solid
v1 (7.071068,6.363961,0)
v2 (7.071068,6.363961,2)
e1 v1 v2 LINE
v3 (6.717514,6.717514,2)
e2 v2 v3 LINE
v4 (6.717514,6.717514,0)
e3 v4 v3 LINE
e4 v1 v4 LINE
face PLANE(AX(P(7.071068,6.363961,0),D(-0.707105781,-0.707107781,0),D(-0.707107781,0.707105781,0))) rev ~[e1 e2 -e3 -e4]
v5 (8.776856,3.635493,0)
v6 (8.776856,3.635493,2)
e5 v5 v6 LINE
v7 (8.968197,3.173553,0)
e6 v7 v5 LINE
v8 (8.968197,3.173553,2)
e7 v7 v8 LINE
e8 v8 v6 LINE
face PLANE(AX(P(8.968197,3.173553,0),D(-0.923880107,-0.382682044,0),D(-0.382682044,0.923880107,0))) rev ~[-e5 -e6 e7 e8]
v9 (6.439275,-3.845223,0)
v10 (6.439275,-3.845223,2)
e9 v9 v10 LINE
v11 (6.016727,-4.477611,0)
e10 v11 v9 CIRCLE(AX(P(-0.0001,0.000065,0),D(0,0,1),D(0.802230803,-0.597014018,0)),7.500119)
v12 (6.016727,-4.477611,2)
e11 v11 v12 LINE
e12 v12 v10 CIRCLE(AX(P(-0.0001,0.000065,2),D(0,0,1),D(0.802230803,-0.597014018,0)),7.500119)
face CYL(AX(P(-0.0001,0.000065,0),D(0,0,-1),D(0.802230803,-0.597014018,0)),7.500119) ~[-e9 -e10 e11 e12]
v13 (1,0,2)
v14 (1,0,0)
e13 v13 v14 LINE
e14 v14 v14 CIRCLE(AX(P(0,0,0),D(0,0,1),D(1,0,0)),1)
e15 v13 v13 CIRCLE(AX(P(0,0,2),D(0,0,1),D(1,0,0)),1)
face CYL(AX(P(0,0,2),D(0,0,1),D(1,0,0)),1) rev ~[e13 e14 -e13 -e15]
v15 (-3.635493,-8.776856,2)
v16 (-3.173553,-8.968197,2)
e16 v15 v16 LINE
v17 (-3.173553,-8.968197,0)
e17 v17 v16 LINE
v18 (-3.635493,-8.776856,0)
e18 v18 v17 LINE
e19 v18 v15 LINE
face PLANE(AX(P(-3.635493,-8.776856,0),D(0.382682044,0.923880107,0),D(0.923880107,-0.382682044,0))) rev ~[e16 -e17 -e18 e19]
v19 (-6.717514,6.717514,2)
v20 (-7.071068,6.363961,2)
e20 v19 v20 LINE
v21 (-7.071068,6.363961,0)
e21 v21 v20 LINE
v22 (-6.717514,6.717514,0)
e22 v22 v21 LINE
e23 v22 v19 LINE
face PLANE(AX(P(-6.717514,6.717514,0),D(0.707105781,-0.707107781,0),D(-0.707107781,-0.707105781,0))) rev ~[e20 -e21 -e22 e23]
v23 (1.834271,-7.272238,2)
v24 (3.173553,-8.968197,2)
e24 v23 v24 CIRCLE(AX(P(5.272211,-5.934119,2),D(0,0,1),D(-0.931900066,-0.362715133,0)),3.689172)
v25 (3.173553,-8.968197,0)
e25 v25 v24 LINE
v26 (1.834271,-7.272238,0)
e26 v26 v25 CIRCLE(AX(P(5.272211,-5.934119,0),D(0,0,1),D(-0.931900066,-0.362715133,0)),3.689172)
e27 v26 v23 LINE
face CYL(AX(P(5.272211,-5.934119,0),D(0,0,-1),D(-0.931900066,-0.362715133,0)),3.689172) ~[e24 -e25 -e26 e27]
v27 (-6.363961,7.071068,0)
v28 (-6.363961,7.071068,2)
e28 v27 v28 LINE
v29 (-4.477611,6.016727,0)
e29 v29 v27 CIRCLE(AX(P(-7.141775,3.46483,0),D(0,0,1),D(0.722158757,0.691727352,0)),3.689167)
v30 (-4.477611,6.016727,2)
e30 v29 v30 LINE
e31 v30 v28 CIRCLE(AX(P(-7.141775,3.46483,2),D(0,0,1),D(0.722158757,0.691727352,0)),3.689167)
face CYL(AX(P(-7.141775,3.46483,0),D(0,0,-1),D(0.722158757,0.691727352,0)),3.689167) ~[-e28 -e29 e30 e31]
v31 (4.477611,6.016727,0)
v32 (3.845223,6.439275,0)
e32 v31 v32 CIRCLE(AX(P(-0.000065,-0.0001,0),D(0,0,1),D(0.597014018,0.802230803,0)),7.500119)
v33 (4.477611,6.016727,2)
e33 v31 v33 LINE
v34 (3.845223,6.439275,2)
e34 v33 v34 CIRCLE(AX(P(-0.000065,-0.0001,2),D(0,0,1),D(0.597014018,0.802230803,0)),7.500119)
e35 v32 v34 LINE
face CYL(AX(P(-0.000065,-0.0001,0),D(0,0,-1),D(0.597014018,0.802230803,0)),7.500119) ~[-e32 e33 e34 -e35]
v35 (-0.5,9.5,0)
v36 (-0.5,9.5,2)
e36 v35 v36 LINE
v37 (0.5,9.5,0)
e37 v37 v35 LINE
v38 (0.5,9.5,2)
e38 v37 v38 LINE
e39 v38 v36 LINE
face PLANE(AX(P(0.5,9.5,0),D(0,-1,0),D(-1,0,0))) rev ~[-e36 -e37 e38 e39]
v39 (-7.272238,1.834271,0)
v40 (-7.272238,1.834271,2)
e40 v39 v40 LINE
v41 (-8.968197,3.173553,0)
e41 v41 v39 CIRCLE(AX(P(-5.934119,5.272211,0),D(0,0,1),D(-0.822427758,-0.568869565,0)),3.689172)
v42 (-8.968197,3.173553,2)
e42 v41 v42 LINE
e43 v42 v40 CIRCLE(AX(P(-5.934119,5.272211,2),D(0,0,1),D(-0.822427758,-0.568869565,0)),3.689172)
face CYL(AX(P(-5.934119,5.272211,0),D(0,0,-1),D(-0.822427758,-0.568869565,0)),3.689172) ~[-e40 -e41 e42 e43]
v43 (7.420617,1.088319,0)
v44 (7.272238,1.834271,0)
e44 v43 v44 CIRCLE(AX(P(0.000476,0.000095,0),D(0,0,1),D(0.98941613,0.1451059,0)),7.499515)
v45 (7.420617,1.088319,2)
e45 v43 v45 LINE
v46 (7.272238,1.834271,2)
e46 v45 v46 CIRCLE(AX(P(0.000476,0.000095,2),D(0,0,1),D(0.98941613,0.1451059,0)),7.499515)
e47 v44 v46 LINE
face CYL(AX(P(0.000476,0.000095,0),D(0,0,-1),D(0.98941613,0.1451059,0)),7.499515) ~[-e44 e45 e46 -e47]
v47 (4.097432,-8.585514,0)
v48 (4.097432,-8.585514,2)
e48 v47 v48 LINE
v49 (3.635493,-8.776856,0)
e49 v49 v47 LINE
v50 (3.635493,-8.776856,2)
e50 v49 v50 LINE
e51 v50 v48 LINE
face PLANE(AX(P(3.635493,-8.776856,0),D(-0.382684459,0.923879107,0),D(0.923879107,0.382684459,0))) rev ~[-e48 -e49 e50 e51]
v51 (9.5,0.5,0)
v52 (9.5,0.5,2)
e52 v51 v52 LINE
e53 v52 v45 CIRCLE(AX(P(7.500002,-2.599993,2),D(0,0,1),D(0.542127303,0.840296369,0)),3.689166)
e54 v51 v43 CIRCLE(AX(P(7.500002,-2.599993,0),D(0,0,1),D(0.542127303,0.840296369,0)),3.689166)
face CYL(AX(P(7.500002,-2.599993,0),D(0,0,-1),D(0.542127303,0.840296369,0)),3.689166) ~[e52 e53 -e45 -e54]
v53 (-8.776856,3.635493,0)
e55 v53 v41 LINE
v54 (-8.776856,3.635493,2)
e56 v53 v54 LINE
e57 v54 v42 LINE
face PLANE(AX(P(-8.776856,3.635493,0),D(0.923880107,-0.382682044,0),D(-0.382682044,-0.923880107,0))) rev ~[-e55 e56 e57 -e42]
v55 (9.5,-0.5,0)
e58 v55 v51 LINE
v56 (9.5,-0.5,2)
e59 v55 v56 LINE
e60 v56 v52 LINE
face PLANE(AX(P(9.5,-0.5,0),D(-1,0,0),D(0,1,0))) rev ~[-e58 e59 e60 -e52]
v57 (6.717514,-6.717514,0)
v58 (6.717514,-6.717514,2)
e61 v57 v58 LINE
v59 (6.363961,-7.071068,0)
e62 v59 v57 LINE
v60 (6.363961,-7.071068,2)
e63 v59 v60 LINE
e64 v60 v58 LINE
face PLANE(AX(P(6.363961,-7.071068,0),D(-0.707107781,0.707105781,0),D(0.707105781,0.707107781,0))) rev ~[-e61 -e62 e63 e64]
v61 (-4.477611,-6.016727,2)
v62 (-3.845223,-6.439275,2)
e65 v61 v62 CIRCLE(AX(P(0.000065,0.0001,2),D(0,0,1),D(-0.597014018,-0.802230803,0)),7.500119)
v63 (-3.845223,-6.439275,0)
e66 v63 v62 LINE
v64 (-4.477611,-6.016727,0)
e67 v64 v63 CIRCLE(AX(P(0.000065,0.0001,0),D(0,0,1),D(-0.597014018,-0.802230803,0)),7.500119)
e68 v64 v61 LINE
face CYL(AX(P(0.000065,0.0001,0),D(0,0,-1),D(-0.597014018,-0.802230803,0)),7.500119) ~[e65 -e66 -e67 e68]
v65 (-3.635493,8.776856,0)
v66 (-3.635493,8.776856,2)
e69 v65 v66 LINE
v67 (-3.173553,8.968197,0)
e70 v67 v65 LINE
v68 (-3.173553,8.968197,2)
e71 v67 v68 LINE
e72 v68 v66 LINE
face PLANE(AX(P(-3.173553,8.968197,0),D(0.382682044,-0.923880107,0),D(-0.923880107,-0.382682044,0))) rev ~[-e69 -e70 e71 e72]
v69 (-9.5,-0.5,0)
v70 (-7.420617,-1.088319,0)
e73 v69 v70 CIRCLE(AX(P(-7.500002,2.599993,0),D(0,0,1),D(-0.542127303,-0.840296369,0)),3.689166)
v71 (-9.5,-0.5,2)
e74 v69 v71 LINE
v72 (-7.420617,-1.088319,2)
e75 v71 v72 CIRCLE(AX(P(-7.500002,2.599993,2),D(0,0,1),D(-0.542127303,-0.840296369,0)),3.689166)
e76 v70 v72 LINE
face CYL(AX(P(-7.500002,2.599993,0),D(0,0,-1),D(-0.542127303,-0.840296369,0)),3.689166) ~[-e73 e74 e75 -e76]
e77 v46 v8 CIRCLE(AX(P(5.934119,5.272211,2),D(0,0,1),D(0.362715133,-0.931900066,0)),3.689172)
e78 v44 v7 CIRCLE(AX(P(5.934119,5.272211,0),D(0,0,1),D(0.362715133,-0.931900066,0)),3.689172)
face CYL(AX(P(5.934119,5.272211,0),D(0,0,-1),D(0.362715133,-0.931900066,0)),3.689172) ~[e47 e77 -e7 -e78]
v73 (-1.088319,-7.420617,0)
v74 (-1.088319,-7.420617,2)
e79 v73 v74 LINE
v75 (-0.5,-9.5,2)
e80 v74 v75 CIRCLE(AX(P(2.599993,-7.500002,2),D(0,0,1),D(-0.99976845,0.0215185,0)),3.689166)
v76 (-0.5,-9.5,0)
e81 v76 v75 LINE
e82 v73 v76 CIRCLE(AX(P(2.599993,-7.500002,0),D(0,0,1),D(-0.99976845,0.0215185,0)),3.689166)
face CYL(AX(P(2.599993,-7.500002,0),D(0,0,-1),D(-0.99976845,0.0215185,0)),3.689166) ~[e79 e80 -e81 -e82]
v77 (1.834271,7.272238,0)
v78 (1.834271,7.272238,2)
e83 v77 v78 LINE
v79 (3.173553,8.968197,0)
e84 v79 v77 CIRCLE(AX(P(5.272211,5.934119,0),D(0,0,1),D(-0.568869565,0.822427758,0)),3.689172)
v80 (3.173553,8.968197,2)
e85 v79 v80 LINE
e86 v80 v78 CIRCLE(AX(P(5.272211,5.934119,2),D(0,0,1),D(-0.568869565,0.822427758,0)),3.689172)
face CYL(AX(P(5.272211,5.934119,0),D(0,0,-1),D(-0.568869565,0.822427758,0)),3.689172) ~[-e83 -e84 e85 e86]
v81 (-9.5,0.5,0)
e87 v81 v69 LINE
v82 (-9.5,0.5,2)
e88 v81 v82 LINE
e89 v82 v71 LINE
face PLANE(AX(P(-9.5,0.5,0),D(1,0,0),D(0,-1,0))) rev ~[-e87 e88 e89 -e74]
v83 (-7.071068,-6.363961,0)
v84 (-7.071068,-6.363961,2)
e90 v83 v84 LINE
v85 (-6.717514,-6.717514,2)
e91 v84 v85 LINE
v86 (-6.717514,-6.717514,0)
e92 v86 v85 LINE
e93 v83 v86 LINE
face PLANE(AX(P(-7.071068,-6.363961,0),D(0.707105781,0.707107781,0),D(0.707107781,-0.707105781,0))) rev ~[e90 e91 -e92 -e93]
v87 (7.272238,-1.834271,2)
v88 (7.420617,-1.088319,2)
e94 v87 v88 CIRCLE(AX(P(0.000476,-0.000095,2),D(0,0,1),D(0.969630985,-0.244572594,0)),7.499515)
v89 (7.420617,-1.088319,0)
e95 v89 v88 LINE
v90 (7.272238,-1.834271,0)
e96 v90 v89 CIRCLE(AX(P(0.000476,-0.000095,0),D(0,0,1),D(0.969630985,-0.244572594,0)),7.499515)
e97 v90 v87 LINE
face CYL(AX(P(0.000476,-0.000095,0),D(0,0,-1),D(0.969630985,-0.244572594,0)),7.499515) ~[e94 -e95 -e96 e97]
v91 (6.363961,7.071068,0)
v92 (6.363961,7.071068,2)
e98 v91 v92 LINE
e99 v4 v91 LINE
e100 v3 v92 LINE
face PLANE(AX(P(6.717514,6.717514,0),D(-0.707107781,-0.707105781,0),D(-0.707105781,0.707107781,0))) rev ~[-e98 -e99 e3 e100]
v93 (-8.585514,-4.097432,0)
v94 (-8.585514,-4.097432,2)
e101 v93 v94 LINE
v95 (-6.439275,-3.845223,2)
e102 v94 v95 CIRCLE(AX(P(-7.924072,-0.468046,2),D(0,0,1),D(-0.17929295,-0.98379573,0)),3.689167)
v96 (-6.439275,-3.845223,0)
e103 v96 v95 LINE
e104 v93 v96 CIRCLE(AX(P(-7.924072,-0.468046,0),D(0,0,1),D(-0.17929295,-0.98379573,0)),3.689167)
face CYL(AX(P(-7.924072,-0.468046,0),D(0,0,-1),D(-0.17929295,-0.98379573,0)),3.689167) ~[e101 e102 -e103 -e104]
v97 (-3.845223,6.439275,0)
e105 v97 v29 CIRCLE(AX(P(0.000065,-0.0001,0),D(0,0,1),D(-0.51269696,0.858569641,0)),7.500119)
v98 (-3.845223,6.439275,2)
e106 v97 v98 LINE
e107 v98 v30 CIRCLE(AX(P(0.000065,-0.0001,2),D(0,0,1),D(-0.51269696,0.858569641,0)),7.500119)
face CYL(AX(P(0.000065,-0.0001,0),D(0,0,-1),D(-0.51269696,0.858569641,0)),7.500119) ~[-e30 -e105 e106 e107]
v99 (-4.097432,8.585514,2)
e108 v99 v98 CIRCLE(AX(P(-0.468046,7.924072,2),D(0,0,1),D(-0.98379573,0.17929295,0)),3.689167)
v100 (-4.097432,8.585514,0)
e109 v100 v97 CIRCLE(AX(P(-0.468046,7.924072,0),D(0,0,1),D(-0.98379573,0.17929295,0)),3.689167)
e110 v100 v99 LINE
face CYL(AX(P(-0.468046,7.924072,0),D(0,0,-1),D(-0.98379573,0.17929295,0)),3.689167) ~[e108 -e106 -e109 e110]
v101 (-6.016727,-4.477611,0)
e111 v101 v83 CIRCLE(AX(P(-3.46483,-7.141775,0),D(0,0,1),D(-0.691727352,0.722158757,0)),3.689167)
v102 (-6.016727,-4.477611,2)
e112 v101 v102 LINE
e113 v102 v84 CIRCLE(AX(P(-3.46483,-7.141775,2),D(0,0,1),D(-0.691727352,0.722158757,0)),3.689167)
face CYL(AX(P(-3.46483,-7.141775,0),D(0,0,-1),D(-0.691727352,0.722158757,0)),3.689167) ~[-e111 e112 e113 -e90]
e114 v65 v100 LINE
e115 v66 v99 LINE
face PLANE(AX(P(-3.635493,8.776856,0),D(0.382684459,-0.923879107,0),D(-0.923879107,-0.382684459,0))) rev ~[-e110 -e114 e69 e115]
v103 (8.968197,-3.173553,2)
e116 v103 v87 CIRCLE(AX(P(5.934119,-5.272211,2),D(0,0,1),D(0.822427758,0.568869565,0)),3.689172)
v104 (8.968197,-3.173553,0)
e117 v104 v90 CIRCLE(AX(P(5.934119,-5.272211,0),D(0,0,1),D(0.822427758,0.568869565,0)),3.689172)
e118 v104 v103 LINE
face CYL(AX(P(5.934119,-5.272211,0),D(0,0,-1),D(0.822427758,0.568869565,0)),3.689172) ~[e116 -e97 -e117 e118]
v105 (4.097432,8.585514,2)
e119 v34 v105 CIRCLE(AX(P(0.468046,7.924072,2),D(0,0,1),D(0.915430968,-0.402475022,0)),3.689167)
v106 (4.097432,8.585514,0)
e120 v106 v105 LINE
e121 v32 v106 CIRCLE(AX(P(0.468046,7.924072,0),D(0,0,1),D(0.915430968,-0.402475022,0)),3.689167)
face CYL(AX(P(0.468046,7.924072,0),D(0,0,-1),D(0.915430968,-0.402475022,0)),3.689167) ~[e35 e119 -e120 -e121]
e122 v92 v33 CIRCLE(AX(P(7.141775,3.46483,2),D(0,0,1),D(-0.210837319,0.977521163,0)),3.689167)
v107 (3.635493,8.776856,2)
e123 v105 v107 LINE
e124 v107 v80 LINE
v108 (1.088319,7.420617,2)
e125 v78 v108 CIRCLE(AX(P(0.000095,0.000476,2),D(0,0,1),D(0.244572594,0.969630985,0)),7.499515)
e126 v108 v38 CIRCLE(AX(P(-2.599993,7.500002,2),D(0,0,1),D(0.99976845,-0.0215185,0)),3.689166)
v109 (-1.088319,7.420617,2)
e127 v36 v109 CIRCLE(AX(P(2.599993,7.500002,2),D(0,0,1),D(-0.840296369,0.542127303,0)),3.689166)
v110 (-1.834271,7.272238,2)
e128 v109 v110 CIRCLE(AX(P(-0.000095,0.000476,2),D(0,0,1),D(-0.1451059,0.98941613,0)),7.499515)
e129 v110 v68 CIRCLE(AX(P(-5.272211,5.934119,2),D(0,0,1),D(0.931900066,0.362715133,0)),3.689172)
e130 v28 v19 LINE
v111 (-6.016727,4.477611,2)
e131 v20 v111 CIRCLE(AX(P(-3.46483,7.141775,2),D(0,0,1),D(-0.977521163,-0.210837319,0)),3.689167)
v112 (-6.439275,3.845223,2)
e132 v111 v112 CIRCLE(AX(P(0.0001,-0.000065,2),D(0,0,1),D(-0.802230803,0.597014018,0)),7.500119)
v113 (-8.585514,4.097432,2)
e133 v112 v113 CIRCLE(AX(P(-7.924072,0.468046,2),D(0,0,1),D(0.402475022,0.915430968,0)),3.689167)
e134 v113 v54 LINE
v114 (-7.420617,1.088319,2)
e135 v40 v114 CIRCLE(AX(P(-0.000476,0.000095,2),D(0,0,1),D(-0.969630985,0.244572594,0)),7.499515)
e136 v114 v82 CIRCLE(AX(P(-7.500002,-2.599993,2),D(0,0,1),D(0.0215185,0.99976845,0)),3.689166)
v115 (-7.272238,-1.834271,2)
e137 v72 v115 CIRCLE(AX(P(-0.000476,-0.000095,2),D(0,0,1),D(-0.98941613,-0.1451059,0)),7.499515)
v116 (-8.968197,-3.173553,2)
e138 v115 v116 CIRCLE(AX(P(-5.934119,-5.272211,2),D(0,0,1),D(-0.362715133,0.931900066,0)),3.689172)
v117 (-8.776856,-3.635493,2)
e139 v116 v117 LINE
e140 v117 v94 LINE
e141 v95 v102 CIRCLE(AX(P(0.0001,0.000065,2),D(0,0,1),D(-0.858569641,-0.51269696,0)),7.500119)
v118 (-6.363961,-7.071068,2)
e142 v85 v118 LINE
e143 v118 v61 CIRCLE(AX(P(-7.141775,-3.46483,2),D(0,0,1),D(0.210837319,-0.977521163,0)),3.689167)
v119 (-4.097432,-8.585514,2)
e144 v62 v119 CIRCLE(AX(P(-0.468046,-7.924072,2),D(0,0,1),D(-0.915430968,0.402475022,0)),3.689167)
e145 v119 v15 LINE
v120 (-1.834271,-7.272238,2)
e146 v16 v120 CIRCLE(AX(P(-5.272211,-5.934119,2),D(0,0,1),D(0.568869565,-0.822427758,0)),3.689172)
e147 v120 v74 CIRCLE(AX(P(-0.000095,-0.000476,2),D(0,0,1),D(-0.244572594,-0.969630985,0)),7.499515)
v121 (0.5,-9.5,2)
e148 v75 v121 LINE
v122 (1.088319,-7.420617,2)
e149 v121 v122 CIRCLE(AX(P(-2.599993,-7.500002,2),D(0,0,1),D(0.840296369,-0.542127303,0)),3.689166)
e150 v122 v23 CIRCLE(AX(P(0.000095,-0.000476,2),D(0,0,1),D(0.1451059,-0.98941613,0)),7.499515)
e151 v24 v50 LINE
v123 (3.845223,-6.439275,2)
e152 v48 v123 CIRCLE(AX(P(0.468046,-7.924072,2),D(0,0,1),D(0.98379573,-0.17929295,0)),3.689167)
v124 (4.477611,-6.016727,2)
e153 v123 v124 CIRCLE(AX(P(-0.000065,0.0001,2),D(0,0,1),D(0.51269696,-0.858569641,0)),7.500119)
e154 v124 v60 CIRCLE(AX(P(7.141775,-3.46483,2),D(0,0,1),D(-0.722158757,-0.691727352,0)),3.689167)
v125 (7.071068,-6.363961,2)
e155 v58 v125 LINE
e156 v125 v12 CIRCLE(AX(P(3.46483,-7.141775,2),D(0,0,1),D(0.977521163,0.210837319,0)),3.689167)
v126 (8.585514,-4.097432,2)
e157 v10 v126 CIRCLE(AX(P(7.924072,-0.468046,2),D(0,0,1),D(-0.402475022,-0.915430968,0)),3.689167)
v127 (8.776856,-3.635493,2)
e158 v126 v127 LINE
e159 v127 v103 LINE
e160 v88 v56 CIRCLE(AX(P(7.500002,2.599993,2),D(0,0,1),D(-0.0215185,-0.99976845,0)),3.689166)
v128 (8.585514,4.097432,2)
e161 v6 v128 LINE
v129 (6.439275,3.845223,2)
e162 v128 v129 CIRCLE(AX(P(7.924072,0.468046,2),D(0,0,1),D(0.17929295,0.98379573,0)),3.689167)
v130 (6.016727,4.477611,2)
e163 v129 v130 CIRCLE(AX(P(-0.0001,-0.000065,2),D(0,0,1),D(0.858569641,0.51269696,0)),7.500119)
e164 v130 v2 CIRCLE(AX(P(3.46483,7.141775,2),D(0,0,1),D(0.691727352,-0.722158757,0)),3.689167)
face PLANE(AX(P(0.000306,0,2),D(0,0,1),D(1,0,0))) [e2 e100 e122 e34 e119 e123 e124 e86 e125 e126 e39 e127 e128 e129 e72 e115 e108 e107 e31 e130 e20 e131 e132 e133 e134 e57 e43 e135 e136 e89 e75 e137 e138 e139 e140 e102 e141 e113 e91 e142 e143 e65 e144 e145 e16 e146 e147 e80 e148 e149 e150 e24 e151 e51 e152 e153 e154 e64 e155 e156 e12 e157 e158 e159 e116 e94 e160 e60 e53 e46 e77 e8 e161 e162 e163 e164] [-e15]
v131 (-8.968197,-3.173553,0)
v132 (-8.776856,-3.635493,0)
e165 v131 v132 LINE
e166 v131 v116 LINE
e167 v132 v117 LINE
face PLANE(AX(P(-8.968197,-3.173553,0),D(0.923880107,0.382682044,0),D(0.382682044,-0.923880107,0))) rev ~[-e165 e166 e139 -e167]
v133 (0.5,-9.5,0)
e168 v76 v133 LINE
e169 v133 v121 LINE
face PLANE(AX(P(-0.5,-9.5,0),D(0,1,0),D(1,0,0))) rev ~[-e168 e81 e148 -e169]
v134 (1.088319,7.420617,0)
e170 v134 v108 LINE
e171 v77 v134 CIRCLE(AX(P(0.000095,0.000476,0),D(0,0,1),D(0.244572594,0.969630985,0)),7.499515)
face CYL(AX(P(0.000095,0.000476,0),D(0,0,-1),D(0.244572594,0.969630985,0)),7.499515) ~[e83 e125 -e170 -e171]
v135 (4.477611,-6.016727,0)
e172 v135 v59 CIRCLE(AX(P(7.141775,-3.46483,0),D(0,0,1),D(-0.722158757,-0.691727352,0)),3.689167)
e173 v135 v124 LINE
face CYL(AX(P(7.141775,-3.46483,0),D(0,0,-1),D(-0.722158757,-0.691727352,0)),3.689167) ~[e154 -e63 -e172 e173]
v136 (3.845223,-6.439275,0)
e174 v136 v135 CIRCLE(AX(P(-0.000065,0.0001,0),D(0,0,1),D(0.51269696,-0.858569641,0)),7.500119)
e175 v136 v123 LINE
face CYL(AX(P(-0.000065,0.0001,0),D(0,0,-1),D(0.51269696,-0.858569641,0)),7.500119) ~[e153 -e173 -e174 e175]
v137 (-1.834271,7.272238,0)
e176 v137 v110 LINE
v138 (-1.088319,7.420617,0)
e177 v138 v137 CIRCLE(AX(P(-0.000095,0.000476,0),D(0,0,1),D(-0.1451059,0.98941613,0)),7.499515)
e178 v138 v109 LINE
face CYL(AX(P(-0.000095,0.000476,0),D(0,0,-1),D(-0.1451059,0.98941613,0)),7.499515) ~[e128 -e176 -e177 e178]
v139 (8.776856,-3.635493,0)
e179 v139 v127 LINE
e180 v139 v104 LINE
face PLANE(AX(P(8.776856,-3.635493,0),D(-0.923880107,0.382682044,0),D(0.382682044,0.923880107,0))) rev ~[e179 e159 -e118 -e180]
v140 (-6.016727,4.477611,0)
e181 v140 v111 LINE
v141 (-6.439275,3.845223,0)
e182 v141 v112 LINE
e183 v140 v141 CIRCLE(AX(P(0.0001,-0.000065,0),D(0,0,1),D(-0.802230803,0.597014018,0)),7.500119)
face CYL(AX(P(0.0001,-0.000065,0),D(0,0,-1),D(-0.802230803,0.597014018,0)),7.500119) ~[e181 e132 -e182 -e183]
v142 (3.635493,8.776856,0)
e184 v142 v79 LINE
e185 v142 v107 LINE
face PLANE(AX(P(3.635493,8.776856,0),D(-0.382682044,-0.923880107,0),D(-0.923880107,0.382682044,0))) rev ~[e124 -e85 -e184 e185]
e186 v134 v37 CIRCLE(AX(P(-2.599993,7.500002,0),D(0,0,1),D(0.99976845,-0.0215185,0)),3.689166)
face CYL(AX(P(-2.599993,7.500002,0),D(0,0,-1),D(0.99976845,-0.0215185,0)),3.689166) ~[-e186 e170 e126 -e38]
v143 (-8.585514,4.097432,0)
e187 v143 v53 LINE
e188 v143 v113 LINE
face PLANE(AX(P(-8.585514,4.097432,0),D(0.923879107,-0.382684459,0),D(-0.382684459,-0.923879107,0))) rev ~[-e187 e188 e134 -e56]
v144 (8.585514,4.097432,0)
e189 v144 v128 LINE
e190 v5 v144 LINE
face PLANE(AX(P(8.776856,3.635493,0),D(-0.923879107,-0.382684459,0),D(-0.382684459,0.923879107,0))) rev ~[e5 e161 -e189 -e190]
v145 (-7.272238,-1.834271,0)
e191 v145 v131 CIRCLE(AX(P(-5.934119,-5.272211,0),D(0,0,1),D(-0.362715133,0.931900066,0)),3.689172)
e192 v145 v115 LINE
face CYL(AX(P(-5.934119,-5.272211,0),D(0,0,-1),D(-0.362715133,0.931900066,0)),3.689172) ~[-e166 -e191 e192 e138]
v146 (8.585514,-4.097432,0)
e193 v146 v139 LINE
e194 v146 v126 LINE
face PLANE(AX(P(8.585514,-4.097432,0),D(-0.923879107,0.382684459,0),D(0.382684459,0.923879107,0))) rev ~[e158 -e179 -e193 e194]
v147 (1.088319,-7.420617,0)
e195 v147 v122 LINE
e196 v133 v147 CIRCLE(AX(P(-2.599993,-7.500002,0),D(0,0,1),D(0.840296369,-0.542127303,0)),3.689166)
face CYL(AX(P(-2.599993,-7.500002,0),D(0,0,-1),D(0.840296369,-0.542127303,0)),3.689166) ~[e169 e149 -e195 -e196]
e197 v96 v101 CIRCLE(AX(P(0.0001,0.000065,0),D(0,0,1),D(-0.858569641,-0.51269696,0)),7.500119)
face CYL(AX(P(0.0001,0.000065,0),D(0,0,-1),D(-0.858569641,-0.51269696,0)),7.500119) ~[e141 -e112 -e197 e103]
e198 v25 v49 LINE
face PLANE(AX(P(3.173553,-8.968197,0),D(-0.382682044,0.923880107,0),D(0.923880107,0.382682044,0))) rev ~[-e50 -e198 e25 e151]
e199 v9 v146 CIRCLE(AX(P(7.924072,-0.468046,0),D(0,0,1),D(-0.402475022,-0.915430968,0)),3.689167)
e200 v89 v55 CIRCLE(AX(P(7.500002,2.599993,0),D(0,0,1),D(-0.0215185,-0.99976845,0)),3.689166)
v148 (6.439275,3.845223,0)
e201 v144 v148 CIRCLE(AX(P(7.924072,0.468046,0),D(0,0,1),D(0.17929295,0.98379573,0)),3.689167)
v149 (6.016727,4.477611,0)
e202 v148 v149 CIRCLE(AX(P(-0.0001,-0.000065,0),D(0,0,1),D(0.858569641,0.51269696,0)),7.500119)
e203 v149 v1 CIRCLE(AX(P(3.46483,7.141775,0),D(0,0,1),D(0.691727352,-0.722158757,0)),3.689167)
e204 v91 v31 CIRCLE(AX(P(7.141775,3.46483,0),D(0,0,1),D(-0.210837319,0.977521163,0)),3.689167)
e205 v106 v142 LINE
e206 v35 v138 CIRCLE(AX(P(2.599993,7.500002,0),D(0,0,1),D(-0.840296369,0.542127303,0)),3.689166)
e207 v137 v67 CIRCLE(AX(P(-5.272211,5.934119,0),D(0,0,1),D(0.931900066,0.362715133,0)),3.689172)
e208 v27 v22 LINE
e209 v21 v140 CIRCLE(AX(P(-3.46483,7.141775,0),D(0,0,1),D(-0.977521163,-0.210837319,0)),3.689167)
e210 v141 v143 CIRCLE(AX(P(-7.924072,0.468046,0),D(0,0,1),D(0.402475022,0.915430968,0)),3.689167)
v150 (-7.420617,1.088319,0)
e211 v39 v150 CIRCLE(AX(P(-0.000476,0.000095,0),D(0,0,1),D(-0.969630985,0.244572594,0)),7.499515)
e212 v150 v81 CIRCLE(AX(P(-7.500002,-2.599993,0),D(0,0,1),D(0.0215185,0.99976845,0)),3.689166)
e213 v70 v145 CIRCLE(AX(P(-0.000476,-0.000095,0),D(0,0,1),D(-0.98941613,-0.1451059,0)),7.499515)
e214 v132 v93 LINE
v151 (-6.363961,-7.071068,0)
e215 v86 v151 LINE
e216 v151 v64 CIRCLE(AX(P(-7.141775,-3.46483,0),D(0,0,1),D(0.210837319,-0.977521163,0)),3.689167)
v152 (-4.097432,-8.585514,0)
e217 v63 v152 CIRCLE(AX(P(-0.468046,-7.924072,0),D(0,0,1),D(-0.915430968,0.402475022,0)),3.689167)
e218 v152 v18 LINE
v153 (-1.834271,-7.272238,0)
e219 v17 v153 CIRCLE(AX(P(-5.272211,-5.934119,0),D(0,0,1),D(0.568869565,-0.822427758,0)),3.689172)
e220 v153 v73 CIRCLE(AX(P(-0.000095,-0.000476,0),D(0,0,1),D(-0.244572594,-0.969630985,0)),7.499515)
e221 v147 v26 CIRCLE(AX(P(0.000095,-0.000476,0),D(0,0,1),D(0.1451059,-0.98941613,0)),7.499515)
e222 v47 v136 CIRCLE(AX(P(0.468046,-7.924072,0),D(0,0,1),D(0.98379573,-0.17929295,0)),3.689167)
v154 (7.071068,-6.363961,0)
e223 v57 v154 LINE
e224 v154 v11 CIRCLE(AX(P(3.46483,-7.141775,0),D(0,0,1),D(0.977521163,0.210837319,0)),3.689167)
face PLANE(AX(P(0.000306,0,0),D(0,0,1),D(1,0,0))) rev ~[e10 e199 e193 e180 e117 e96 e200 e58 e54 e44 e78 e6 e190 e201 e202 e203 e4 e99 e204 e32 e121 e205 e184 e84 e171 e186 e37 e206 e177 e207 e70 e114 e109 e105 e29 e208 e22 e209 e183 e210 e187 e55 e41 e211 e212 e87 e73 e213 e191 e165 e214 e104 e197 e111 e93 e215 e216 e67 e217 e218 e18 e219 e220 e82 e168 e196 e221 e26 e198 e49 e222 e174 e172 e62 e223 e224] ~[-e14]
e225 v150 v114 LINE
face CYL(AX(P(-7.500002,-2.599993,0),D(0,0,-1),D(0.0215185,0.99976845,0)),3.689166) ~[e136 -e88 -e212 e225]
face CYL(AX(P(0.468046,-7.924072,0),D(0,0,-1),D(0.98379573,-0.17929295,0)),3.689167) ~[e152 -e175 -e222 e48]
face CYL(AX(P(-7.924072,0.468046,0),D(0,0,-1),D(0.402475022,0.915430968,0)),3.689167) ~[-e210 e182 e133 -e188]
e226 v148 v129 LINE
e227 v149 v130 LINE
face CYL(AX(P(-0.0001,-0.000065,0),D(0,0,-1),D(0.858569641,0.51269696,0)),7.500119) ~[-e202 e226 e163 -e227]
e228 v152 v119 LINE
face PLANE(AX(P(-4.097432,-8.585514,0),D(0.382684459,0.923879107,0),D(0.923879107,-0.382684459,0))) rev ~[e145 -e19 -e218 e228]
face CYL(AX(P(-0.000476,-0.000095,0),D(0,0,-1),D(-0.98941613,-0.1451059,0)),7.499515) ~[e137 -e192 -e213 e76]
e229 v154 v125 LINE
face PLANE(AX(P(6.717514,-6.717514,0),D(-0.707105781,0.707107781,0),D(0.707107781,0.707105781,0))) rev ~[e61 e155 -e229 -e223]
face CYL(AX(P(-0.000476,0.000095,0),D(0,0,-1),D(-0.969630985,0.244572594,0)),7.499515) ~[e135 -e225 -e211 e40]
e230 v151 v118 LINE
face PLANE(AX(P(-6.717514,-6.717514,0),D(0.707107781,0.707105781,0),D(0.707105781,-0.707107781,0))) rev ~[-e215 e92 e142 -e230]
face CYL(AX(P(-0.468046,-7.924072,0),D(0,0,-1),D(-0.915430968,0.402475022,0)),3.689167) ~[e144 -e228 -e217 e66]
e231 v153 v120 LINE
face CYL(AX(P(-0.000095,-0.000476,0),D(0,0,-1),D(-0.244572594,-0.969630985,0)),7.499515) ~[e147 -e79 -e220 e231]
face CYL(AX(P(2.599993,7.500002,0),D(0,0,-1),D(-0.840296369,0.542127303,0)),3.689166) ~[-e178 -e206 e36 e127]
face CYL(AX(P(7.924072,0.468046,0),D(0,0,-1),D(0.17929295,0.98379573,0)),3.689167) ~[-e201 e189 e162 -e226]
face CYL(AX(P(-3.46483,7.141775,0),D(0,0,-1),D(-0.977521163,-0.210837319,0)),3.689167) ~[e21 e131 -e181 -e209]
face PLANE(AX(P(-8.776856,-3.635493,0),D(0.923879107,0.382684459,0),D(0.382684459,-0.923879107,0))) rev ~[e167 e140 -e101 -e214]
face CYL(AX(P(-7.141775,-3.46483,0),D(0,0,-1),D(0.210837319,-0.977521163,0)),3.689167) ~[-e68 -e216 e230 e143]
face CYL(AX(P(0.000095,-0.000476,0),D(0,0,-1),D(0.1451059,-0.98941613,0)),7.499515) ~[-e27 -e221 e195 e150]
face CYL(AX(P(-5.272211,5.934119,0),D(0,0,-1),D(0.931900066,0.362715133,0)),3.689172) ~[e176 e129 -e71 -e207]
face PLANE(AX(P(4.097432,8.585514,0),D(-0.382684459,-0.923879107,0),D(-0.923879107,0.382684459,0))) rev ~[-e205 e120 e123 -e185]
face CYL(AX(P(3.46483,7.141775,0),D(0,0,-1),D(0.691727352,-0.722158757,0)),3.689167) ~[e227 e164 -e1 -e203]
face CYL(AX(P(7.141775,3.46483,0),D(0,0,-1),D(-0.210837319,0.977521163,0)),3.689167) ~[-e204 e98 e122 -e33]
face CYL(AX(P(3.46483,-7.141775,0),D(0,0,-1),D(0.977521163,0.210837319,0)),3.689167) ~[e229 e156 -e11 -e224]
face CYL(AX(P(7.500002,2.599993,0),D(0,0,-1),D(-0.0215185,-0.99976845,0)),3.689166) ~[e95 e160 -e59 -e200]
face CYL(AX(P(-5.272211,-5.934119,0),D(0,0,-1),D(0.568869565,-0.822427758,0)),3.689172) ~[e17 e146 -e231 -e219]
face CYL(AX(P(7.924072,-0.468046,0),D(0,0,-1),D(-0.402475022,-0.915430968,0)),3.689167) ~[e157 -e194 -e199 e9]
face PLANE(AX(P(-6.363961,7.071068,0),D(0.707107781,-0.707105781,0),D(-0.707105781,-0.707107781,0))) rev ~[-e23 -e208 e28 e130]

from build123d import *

# Parameters (mm, degrees)
F1_DEPTH = 2
F2_R     = 1
F3_DEPTH = 2.001


with BuildPart() as f1:
    # F0 (on Top) → F1 (new body)
    with BuildSketch(Plane.XY):
        with BuildLine():
            ThreePointArc((7.420617, -1.088319), (7.480128, -0.545605), (7.5, 0))
            ThreePointArc((7.5, 0), (7.480128, 0.545605), (7.420617, 1.088319))
            ThreePointArc((7.420617, 1.088319), (7.35589, 1.463177), (7.272238, 1.834271))
            ThreePointArc((7.272238, 1.834271), (6.929096, 2.870126), (6.439275, 3.845223))
            ThreePointArc((6.439275, 3.845223), (6.236022, 4.166777), (6.016727, 4.477611))
            ThreePointArc((6.016727, 4.477611), (5.303301, 5.303301), (4.477611, 6.016727))
            ThreePointArc((4.477611, 6.016727), (4.166777, 6.236022), (3.845223, 6.439275))
            ThreePointArc((3.845223, 6.439275), (2.870126, 6.929096), (1.834271, 7.272238))
            ThreePointArc((1.834271, 7.272238), (1.463177, 7.35589), (1.088319, 7.420617))
            ThreePointArc((1.088319, 7.420617), (0, 7.5), (-1.088319, 7.420617))
            ThreePointArc((-1.088319, 7.420617), (-1.463177, 7.35589), (-1.834271, 7.272238))
            ThreePointArc((-1.834271, 7.272238), (-2.870126, 6.929096), (-3.845223, 6.439275))
            ThreePointArc((-3.845223, 6.439275), (-4.166777, 6.236022), (-4.477611, 6.016727))
            ThreePointArc((-4.477611, 6.016727), (-5.303301, 5.303301), (-6.016727, 4.477611))
            ThreePointArc((-6.016727, 4.477611), (-6.236022, 4.166777), (-6.439275, 3.845223))
            ThreePointArc((-6.439275, 3.845223), (-6.929096, 2.870126), (-7.272238, 1.834271))
            ThreePointArc((-7.272238, 1.834271), (-7.35589, 1.463177), (-7.420617, 1.088319))
            ThreePointArc((-7.420617, 1.088319), (-7.5, 0), (-7.420617, -1.088319))
            ThreePointArc((-7.420617, -1.088319), (-7.35589, -1.463177), (-7.272238, -1.834271))
            ThreePointArc((-7.272238, -1.834271), (-6.929096, -2.870126), (-6.439275, -3.845223))
            ThreePointArc((-6.439275, -3.845223), (-6.236022, -4.166777), (-6.016727, -4.477611))
            ThreePointArc((-6.016727, -4.477611), (-5.303301, -5.303301), (-4.477611, -6.016727))
            ThreePointArc((-4.477611, -6.016727), (-4.166777, -6.236022), (-3.845223, -6.439275))
            ThreePointArc((-3.845223, -6.439275), (-2.870126, -6.929096), (-1.834271, -7.272238))
            ThreePointArc((-1.834271, -7.272238), (-1.463177, -7.35589), (-1.088319, -7.420617))
            ThreePointArc((-1.088319, -7.420617), (0, -7.5), (1.088319, -7.420617))
            ThreePointArc((1.088319, -7.420617), (1.463177, -7.35589), (1.834271, -7.272238))
            ThreePointArc((1.834271, -7.272238), (2.870126, -6.929096), (3.845223, -6.439275))
            ThreePointArc((3.845223, -6.439275), (4.166777, -6.236022), (4.477611, -6.016727))
            ThreePointArc((4.477611, -6.016727), (5.303301, -5.303301), (6.016727, -4.477611))
            ThreePointArc((6.016727, -4.477611), (6.236022, -4.166777), (6.439275, -3.845223))
            ThreePointArc((6.439275, -3.845223), (6.929096, -2.870126), (7.272238, -1.834271))
            ThreePointArc((7.272238, -1.834271), (7.35589, -1.463177), (7.420617, -1.088319))
        make_face()
        with BuildLine():
            ThreePointArc((7.420617, 1.088319), (7.480128, 0.545605), (7.5, 0))
            ThreePointArc((7.5, 0), (7.480128, -0.545605), (7.420617, -1.088319))
            ThreePointArc((7.420617, -1.088319), (8.504352, -0.949828), (9.5, -0.5))
            Line((9.5, -0.5), (9.5, 0))
            Line((9.5, 0), (9.5, 0.5))
            ThreePointArc((9.5, 0.5), (8.504352, 0.949828), (7.420617, 1.088319))
        make_face()
        with BuildLine():
            ThreePointArc((6.439275, 3.845223), (6.929096, 2.870126), (7.272238, 1.834271))
            ThreePointArc((7.272238, 1.834271), (8.22048, 2.376948), (8.968197, 3.173553))
            Line((8.968197, 3.173553), (8.776856, 3.635493))
            Line((8.776856, 3.635493), (8.585514, 4.097432))
            ThreePointArc((8.585514, 4.097432), (7.493513, 4.132001), (6.439275, 3.845223))
        make_face()
        with BuildLine():
            ThreePointArc((8.968197, -3.173553), (8.22048, -2.376948), (7.272238, -1.834271))
            ThreePointArc((7.272238, -1.834271), (6.929096, -2.870126), (6.439275, -3.845223))
            ThreePointArc((6.439275, -3.845223), (7.493513, -4.132001), (8.585514, -4.097432))
            Line((8.585514, -4.097432), (8.776856, -3.635493))
            Line((8.776856, -3.635493), (8.968197, -3.173553))
        make_face()
        with BuildLine():
            ThreePointArc((4.477611, 6.016727), (5.303301, 5.303301), (6.016727, 4.477611))
            ThreePointArc((6.016727, 4.477611), (6.685115, 5.341855), (7.071068, 6.363961))
            Line((7.071068, 6.363961), (6.717514, 6.717514))
            Line((6.717514, 6.717514), (6.363961, 7.071068))
            ThreePointArc((6.363961, 7.071068), (5.341855, 6.685115), (4.477611, 6.016727))
        make_face()
        with BuildLine():
            ThreePointArc((7.071068, -6.363961), (6.685115, -5.341855), (6.016727, -4.477611))
            ThreePointArc((6.016727, -4.477611), (5.303301, -5.303301), (4.477611, -6.016727))
            ThreePointArc((4.477611, -6.016727), (5.341855, -6.685115), (6.363961, -7.071068))
            Line((6.363961, -7.071068), (6.717514, -6.717514))
            Line((6.717514, -6.717514), (7.071068, -6.363961))
        make_face()
        with BuildLine():
            ThreePointArc((1.834271, 7.272238), (2.870126, 6.929096), (3.845223, 6.439275))
            ThreePointArc((3.845223, 6.439275), (4.132001, 7.493513), (4.097432, 8.585514))
            Line((4.097432, 8.585514), (3.635493, 8.776856))
            Line((3.635493, 8.776856), (3.173553, 8.968197))
            ThreePointArc((3.173553, 8.968197), (2.376948, 8.22048), (1.834271, 7.272238))
        make_face()
        with BuildLine():
            ThreePointArc((4.097432, -8.585514), (4.132001, -7.493513), (3.845223, -6.439275))
            ThreePointArc((3.845223, -6.439275), (2.870126, -6.929096), (1.834271, -7.272238))
            ThreePointArc((1.834271, -7.272238), (2.376948, -8.22048), (3.173553, -8.968197))
            Line((3.173553, -8.968197), (3.635493, -8.776856))
            Line((3.635493, -8.776856), (4.097432, -8.585514))
        make_face()
        with BuildLine():
            ThreePointArc((-1.088319, 7.420617), (0, 7.5), (1.088319, 7.420617))
            ThreePointArc((1.088319, 7.420617), (0.949828, 8.504352), (0.5, 9.5))
            Line((0.5, 9.5), (0, 9.5))
            Line((0, 9.5), (-0.5, 9.5))
            ThreePointArc((-0.5, 9.5), (-0.949828, 8.504352), (-1.088319, 7.420617))
        make_face()
        with BuildLine():
            ThreePointArc((0.5, -9.5), (0.949828, -8.504352), (1.088319, -7.420617))
            ThreePointArc((1.088319, -7.420617), (0, -7.5), (-1.088319, -7.420617))
            ThreePointArc((-1.088319, -7.420617), (-0.949828, -8.504352), (-0.5, -9.5))
            Line((-0.5, -9.5), (0, -9.5))
            Line((0, -9.5), (0.5, -9.5))
        make_face()
        with BuildLine():
            ThreePointArc((-3.845223, 6.439275), (-2.870126, 6.929096), (-1.834271, 7.272238))
            ThreePointArc((-1.834271, 7.272238), (-2.376948, 8.22048), (-3.173553, 8.968197))
            Line((-3.173553, 8.968197), (-3.635493, 8.776856))
            Line((-3.635493, 8.776856), (-4.097432, 8.585514))
            ThreePointArc((-4.097432, 8.585514), (-4.132001, 7.493513), (-3.845223, 6.439275))
        make_face()
        with BuildLine():
            ThreePointArc((-3.173553, -8.968197), (-2.376948, -8.22048), (-1.834271, -7.272238))
            ThreePointArc((-1.834271, -7.272238), (-2.870126, -6.929096), (-3.845223, -6.439275))
            ThreePointArc((-3.845223, -6.439275), (-4.132001, -7.493513), (-4.097432, -8.585514))
            Line((-4.097432, -8.585514), (-3.635493, -8.776856))
            Line((-3.635493, -8.776856), (-3.173553, -8.968197))
        make_face()
        with BuildLine():
            ThreePointArc((-6.016727, 4.477611), (-5.303301, 5.303301), (-4.477611, 6.016727))
            ThreePointArc((-4.477611, 6.016727), (-5.341855, 6.685115), (-6.363961, 7.071068))
            Line((-6.363961, 7.071068), (-6.717514, 6.717514))
            Line((-6.717514, 6.717514), (-7.071068, 6.363961))
            ThreePointArc((-7.071068, 6.363961), (-6.685115, 5.341855), (-6.016727, 4.477611))
        make_face()
        with BuildLine():
            ThreePointArc((-6.363961, -7.071068), (-5.341855, -6.685115), (-4.477611, -6.016727))
            ThreePointArc((-4.477611, -6.016727), (-5.303301, -5.303301), (-6.016727, -4.477611))
            ThreePointArc((-6.016727, -4.477611), (-6.685115, -5.341855), (-7.071068, -6.363961))
            Line((-7.071068, -6.363961), (-6.717514, -6.717514))
            Line((-6.717514, -6.717514), (-6.363961, -7.071068))
        make_face()
        with BuildLine():
            ThreePointArc((-7.272238, 1.834271), (-6.929096, 2.870126), (-6.439275, 3.845223))
            ThreePointArc((-6.439275, 3.845223), (-7.493513, 4.132001), (-8.585514, 4.097432))
            Line((-8.585514, 4.097432), (-8.776856, 3.635493))
            Line((-8.776856, 3.635493), (-8.968197, 3.173553))
            ThreePointArc((-8.968197, 3.173553), (-8.22048, 2.376948), (-7.272238, 1.834271))
        make_face()
        with BuildLine():
            ThreePointArc((-8.585514, -4.097432), (-7.493513, -4.132001), (-6.439275, -3.845223))
            ThreePointArc((-6.439275, -3.845223), (-6.929096, -2.870126), (-7.272238, -1.834271))
            ThreePointArc((-7.272238, -1.834271), (-8.22048, -2.376948), (-8.968197, -3.173553))
            Line((-8.968197, -3.173553), (-8.776856, -3.635493))
            Line((-8.776856, -3.635493), (-8.585514, -4.097432))
        make_face()
        with BuildLine():
            ThreePointArc((-7.420617, -1.088319), (-7.5, 0), (-7.420617, 1.088319))
            ThreePointArc((-7.420617, 1.088319), (-8.504352, 0.949828), (-9.5, 0.5))
            Line((-9.5, 0.5), (-9.5, 0))
            Line((-9.5, 0), (-9.5, -0.5))
            ThreePointArc((-9.5, -0.5), (-8.504352, -0.949828), (-7.420617, -1.088319))
        make_face()
    extrude(amount=F1_DEPTH)

    # F2 (on face) → F3 (cut, through all)
    with BuildSketch(Plane.XY.offset(2)):
        Circle(F2_R)
    extrude(amount=-F3_DEPTH, mode=Mode.SUBTRACT)


solid = f1.part
